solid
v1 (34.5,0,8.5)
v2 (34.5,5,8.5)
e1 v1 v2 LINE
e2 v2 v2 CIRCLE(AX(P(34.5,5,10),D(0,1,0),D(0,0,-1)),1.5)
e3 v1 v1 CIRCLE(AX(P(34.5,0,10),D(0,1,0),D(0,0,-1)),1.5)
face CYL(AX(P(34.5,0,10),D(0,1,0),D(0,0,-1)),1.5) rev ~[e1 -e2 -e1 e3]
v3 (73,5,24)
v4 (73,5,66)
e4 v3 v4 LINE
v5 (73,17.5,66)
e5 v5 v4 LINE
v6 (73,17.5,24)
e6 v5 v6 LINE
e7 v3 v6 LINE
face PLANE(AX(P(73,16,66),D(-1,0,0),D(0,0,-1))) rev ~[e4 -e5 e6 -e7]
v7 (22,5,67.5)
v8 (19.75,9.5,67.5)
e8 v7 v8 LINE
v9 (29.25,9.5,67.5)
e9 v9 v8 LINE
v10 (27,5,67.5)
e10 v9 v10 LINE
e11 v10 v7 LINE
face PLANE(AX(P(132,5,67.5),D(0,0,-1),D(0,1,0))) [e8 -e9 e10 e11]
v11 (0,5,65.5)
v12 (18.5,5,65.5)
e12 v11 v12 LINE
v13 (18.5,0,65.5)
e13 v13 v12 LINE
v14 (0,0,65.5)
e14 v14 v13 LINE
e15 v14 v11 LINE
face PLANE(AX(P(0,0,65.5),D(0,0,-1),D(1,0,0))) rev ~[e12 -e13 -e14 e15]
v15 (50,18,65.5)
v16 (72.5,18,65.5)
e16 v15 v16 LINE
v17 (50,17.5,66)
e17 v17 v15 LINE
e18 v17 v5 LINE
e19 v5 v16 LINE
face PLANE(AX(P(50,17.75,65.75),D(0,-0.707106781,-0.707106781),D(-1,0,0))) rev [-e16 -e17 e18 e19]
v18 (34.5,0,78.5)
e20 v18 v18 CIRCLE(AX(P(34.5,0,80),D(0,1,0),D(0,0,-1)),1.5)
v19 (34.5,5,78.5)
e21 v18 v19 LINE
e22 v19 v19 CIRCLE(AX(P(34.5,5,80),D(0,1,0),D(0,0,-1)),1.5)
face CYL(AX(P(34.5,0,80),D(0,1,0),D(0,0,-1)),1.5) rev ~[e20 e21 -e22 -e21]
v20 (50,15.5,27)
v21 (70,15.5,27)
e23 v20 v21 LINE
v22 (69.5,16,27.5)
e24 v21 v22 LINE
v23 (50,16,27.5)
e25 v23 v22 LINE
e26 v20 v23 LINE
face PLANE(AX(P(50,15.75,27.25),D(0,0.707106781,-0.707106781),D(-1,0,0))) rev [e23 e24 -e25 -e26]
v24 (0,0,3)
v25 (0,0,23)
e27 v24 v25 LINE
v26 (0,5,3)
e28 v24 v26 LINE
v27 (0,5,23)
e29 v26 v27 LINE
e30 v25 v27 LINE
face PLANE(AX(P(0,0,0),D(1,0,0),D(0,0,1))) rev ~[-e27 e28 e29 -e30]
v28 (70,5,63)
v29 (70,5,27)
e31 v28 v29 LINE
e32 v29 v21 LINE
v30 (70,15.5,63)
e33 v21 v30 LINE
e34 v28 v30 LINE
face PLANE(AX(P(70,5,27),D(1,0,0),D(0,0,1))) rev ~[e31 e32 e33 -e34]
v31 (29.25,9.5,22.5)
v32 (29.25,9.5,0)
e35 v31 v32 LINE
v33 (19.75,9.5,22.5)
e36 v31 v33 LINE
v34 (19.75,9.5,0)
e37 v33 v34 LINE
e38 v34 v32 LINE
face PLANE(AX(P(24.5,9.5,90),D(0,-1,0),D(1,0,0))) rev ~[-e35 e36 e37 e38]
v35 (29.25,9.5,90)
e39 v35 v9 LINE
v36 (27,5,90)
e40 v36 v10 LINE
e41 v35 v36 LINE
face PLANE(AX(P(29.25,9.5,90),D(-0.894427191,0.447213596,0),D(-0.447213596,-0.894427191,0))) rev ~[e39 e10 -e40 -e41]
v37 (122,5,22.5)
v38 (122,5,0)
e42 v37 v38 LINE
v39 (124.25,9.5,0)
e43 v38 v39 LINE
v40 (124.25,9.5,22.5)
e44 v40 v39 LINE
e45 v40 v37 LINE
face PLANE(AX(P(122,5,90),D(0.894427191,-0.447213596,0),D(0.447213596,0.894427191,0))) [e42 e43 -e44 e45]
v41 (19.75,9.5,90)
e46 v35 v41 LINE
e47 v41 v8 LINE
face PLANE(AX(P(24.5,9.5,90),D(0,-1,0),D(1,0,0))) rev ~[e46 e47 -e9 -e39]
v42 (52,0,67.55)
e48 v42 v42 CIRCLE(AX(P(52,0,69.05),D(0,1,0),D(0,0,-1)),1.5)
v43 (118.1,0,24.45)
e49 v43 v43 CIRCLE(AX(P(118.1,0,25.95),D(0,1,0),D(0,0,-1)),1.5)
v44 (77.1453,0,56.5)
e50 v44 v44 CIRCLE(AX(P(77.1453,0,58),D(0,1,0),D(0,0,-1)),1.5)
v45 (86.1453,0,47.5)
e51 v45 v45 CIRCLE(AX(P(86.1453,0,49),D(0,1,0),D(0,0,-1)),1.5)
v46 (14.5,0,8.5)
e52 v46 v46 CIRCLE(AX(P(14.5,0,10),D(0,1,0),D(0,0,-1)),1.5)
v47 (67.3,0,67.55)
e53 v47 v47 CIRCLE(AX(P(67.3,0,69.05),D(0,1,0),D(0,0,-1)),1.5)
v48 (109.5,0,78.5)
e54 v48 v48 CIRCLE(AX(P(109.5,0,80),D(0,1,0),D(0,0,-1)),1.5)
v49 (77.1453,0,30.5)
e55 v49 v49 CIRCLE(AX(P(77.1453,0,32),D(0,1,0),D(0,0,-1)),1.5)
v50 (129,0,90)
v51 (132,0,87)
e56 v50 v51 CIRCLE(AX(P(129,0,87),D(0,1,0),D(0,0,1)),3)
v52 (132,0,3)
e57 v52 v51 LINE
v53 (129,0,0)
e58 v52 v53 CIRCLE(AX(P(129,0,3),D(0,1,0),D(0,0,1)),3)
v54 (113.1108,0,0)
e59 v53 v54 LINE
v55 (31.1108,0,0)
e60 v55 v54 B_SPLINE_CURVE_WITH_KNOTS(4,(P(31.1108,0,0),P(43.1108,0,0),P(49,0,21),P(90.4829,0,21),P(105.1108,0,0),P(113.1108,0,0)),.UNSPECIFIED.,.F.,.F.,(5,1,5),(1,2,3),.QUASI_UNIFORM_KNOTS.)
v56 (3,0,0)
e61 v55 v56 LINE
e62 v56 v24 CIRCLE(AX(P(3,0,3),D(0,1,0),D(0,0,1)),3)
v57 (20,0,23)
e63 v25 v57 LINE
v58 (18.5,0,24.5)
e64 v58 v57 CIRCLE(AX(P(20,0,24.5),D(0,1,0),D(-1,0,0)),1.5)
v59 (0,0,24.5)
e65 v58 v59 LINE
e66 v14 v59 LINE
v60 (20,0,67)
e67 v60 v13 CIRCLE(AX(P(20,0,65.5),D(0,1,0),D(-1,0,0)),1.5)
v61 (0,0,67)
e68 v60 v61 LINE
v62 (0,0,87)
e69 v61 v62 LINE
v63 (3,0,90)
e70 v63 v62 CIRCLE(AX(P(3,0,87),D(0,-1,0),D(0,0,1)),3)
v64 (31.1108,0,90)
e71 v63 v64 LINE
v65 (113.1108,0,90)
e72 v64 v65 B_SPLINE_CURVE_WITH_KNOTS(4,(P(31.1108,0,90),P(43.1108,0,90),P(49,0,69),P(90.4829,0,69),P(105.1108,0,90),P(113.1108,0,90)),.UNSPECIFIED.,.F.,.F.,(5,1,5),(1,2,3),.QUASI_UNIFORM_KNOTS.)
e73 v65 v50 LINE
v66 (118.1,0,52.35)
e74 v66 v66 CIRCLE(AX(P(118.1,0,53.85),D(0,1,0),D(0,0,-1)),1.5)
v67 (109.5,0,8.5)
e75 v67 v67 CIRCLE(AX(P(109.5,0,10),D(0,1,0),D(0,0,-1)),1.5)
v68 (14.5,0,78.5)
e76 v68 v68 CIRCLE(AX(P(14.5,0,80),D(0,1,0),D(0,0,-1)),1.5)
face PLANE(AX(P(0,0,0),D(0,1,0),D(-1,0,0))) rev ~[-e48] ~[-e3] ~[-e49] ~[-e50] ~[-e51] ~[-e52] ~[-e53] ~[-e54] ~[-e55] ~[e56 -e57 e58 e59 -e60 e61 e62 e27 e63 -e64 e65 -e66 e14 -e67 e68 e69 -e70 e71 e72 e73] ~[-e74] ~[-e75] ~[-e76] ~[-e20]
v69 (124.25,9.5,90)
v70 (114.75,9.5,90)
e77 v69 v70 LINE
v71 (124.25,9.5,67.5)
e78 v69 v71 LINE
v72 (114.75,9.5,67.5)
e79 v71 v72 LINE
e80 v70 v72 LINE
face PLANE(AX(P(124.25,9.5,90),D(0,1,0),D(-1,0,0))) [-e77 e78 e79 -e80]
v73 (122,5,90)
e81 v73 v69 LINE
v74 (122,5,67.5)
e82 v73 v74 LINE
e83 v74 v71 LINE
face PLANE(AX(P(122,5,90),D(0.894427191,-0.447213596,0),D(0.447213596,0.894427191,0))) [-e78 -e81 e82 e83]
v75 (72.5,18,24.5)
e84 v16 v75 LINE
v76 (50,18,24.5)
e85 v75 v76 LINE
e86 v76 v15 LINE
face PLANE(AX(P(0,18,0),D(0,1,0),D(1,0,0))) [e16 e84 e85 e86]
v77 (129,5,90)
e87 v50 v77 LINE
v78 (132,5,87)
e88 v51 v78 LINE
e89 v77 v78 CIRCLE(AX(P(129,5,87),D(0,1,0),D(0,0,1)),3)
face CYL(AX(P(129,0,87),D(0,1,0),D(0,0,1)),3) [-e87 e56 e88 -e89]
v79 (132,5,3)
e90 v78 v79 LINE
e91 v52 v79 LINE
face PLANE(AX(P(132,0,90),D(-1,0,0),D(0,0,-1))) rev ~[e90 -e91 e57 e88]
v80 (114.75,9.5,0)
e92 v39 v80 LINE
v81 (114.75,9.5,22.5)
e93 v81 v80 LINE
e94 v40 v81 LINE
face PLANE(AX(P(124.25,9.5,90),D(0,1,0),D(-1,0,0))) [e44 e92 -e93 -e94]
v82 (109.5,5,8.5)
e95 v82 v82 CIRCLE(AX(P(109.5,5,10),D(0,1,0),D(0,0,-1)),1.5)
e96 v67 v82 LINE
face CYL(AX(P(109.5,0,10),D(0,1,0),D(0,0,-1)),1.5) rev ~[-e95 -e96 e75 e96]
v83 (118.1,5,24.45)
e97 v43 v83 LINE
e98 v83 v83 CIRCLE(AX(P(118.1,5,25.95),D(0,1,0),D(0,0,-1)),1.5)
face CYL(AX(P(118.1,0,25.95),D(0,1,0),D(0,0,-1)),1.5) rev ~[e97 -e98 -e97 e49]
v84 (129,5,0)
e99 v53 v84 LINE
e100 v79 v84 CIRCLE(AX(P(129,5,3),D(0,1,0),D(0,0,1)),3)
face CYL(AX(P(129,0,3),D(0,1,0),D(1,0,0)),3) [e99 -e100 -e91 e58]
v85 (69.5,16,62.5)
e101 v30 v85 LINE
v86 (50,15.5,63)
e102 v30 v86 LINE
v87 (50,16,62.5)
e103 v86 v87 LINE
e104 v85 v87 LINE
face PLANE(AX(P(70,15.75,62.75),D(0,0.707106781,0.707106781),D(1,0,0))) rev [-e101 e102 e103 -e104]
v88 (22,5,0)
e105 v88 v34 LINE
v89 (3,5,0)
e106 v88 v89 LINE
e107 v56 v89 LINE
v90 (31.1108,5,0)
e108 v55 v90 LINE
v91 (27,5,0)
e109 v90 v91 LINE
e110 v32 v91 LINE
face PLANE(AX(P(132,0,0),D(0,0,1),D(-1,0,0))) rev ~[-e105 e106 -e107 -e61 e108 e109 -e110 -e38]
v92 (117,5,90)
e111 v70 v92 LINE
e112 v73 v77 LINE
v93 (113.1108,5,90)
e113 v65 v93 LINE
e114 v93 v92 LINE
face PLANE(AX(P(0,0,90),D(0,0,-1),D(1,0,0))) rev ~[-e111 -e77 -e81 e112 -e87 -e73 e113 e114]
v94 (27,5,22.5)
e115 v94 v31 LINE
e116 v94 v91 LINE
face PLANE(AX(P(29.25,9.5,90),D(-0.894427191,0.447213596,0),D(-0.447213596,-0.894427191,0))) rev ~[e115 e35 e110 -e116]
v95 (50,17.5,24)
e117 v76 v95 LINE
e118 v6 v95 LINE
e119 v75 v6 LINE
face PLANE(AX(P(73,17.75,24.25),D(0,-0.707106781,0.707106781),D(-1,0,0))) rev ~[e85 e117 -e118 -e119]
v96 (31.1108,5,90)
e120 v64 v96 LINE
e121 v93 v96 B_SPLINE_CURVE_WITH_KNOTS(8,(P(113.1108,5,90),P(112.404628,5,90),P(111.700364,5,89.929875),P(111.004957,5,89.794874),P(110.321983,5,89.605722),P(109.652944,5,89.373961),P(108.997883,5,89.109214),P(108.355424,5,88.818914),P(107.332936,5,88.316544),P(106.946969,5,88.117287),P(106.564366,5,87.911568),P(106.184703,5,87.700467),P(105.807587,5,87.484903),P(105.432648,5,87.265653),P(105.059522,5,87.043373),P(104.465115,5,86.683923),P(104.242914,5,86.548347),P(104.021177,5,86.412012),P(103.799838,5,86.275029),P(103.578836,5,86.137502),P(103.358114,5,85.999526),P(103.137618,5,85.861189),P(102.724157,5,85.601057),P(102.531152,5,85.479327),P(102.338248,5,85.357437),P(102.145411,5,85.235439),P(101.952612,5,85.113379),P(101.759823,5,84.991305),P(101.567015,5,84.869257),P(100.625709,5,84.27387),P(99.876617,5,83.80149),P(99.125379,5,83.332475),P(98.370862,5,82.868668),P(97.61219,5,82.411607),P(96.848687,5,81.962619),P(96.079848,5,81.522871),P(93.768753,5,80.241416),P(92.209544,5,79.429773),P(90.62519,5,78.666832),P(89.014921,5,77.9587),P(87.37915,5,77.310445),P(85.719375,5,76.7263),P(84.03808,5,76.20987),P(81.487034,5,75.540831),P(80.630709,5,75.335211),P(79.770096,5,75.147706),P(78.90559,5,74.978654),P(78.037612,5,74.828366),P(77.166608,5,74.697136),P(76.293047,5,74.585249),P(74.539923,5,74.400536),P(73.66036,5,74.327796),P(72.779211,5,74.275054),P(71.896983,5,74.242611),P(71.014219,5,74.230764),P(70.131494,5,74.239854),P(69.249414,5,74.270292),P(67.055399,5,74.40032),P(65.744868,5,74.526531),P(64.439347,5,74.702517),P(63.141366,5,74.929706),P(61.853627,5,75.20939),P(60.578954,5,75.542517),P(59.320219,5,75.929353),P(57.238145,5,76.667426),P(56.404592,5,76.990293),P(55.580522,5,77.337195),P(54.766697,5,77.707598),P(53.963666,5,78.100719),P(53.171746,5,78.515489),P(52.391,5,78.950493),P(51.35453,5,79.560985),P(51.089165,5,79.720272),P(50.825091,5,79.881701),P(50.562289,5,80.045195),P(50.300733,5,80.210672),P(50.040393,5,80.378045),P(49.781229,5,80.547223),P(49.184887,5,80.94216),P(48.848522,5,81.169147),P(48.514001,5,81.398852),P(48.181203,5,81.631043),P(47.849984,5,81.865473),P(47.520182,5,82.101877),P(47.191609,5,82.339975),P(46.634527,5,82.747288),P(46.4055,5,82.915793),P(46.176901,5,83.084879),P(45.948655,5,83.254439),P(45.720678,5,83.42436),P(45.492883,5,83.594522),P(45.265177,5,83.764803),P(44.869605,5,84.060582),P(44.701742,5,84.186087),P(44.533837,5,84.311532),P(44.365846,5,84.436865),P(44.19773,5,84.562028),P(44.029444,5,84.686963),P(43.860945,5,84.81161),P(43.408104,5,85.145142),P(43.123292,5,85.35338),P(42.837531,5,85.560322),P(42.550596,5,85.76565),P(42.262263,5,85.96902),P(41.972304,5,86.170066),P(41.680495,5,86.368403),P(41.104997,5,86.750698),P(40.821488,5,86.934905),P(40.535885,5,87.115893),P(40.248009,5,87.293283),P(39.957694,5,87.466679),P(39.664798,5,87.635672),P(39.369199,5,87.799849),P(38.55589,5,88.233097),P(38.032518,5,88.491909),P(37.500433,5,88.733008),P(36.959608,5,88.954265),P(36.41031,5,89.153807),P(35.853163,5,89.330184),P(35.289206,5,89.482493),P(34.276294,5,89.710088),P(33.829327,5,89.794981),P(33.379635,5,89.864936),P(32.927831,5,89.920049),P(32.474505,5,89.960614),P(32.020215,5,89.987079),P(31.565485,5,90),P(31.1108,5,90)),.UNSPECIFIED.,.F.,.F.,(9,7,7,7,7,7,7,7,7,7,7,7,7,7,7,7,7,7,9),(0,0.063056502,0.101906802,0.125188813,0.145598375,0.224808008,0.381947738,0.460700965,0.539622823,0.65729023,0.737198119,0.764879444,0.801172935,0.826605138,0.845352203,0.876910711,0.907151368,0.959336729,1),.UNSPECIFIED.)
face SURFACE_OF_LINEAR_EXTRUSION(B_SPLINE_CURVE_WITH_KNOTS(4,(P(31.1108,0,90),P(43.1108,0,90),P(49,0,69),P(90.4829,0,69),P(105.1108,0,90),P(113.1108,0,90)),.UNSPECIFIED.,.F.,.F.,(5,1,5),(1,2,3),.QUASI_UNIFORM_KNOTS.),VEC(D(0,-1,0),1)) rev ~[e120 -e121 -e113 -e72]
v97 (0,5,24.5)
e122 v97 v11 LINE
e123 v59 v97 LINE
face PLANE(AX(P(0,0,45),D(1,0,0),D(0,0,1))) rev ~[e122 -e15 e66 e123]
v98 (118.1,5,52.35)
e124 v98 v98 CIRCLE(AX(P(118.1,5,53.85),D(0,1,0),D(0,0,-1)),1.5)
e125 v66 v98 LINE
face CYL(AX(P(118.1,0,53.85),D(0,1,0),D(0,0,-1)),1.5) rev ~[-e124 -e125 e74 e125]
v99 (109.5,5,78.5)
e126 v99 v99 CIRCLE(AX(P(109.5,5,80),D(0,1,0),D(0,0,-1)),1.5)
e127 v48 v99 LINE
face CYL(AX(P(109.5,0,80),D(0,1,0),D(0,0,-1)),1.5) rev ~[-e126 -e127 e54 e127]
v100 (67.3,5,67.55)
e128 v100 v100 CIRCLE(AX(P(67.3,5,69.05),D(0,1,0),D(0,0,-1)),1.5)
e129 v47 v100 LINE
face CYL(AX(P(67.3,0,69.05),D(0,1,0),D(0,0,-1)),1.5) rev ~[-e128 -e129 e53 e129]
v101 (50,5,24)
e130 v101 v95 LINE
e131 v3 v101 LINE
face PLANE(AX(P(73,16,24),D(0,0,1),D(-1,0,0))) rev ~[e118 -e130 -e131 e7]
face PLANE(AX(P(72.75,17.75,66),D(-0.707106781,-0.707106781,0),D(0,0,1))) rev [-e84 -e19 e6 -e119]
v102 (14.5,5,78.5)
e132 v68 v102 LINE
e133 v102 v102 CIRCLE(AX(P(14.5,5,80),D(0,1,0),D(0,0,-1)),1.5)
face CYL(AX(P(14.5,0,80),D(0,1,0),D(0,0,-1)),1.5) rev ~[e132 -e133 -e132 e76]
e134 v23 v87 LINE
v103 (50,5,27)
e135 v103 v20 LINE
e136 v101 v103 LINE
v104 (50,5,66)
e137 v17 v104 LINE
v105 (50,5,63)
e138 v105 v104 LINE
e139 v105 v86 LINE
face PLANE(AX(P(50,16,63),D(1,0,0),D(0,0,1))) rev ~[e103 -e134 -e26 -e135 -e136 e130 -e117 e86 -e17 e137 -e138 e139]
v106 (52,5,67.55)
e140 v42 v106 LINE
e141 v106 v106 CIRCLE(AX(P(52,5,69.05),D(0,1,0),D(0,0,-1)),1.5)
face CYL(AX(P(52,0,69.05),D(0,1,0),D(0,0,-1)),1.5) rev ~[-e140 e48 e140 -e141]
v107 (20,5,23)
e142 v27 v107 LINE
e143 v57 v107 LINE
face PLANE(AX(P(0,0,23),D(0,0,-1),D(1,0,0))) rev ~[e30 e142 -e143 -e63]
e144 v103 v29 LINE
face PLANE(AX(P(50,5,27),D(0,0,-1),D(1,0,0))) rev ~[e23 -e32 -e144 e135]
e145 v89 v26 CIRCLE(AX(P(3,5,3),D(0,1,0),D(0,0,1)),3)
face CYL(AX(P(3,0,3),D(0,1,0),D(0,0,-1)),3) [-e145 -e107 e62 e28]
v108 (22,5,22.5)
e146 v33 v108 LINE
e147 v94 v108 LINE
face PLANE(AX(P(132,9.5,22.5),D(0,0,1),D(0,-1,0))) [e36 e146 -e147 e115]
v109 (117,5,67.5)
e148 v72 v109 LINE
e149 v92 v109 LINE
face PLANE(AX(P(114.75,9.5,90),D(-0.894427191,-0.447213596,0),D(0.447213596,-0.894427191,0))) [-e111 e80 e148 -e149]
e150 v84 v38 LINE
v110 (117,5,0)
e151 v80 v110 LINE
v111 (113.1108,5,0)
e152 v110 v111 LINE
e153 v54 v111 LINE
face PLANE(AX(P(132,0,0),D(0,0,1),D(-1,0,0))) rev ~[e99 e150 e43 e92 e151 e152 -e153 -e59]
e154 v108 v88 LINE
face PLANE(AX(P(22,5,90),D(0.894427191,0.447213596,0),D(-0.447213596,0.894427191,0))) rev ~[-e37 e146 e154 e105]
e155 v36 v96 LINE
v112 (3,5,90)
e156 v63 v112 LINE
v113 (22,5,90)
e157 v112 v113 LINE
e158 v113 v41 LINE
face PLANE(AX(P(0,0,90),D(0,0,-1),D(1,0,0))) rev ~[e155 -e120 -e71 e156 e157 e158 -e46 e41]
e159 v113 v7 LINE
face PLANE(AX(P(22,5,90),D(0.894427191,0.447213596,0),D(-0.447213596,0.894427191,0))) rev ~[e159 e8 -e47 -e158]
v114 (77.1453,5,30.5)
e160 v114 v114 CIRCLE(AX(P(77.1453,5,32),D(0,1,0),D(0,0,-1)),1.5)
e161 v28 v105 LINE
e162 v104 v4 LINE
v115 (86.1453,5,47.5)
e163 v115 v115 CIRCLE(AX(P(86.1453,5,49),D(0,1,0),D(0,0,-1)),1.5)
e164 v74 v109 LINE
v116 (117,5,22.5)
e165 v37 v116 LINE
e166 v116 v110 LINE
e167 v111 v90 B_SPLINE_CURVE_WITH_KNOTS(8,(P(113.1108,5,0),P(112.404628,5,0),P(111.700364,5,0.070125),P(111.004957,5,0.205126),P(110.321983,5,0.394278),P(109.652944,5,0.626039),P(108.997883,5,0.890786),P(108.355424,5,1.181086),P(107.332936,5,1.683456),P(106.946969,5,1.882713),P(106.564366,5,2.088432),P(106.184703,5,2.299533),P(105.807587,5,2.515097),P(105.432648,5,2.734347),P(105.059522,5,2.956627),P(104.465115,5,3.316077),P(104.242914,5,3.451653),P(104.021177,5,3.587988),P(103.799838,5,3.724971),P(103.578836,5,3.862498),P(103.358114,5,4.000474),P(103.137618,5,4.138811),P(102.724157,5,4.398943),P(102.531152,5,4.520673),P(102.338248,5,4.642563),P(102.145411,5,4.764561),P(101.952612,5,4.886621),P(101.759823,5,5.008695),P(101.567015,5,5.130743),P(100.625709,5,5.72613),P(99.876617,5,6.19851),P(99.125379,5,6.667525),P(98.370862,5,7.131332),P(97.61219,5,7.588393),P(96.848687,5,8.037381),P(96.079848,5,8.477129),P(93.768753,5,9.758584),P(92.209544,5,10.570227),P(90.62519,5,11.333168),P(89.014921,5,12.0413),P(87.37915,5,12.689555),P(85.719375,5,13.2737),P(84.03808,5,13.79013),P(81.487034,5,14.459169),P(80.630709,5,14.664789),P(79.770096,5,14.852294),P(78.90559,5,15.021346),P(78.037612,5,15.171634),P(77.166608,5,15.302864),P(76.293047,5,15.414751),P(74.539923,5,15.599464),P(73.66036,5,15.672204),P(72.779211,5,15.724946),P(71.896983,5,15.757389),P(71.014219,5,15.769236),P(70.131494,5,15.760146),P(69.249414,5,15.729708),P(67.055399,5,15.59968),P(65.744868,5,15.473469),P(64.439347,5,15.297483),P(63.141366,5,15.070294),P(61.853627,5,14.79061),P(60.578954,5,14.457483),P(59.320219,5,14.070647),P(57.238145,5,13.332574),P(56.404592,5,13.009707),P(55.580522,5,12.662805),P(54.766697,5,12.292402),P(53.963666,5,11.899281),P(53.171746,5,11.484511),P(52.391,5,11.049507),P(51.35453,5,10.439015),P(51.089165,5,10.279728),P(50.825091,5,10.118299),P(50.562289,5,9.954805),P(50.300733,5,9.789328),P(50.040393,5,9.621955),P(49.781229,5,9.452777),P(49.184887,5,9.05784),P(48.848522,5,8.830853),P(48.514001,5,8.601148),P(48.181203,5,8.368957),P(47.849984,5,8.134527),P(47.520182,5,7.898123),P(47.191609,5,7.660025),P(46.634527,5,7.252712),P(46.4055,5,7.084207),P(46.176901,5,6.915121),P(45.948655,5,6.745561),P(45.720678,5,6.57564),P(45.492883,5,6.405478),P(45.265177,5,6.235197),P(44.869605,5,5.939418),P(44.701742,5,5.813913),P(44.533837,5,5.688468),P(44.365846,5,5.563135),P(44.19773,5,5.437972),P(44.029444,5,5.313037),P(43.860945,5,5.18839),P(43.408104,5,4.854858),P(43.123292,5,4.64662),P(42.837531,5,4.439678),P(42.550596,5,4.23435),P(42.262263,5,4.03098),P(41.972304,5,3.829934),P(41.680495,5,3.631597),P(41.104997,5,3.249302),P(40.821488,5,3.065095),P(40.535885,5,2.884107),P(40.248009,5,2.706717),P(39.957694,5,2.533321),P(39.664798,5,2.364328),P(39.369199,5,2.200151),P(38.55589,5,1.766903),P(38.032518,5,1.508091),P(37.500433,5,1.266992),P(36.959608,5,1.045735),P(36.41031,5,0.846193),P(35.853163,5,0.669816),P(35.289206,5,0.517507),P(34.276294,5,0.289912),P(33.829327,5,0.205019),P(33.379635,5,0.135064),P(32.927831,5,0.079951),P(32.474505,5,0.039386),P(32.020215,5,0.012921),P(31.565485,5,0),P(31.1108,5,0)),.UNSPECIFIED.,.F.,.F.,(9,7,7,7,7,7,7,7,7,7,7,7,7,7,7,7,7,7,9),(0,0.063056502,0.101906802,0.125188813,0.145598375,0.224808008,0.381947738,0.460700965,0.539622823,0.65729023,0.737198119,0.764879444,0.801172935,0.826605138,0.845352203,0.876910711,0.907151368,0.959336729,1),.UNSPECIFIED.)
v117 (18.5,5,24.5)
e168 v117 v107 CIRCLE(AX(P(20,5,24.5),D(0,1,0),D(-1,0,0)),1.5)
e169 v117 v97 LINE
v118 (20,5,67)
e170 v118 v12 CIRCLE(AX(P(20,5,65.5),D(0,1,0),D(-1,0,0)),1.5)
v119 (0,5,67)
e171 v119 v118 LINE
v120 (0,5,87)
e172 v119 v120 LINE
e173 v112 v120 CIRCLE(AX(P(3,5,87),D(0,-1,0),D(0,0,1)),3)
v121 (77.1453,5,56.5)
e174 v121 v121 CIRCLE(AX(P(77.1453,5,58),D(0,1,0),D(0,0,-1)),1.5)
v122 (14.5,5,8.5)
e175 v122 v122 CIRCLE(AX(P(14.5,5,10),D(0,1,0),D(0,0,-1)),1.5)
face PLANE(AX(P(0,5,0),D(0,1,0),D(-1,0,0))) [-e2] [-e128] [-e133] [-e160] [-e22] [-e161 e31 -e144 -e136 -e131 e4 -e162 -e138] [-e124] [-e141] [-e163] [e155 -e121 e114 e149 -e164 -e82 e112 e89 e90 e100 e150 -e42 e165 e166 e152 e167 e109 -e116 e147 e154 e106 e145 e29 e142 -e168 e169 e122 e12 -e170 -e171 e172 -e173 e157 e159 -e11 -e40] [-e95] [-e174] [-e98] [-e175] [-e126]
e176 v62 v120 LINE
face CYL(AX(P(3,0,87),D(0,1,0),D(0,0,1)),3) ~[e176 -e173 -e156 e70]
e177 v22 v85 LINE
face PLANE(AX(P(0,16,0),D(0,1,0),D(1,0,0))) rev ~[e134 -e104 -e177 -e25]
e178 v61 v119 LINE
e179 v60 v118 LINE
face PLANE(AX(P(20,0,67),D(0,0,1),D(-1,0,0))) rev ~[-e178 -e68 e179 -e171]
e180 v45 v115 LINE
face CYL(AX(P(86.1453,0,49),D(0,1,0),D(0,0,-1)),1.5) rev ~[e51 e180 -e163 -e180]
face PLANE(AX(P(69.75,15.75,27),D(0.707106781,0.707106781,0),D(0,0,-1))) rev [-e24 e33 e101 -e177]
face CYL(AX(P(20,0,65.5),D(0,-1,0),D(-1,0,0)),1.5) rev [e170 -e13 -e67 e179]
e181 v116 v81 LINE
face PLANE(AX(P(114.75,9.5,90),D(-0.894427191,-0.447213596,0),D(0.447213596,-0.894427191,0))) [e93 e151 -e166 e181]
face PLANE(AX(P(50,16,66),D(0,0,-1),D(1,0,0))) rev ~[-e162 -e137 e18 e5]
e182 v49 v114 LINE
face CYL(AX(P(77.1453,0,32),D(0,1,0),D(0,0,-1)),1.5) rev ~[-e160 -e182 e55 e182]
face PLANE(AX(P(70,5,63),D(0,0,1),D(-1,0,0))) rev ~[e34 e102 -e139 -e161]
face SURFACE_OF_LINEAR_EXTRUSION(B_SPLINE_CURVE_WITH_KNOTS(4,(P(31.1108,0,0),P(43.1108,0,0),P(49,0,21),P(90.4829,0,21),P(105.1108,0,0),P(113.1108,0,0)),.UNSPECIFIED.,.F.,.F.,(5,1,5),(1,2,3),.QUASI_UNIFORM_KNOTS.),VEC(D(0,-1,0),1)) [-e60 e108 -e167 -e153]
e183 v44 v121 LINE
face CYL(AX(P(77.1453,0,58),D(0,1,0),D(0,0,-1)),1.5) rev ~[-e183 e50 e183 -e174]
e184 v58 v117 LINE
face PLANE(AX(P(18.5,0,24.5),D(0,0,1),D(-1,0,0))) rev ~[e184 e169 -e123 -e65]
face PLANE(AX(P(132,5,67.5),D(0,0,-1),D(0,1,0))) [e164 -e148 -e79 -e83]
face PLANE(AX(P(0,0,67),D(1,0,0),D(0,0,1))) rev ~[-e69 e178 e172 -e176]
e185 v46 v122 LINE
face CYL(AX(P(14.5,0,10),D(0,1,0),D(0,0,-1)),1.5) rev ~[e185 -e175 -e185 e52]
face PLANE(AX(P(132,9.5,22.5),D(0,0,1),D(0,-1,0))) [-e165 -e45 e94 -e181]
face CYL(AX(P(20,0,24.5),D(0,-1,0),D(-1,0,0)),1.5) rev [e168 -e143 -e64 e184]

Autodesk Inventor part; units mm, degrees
ref_plane "YZ Plane" through (0, 0, 0) normal (1, 0, 0) x (0, 1, 0)
ref_plane "XZ Plane" through (0, 0, 0) normal (0, 1, 0) x (-1, 0, 0)
ref_plane "XY Plane" through (0, 0, 0) normal (0, 0, 1) x (1, 0, 0)
sketch "Sketch1" plane through (0, 0, 0) normal (0, 1, 0) x (-1, 0, 0)
  line L0 (0, 90) -> (-132, 90)
  line L1 (-132, 90) -> (-132, 0)
  line L2 (-132, 0) -> (0, 0)
  line L3 (0, 0) -> (0, 90)
  line L4 (0, 45) -> (-132, 45)
  line L5 (0, 65.5) -> (-20, 65.5)
  line L6 (-20, 65.5) -> (-20, 67)
  line L7 (-20, 67) -> (0, 67)
  line L8 (0, 67) -> (0, 65.5)
  line L9 (0, 23) -> (-20, 23)
  line L10 (-20, 23) -> (-20, 24.5)
  line L11 (-20, 24.5) -> (0, 24.5)
  line L12 (0, 24.5) -> (0, 23)
  circle A0 centre (-20, 65.5) radius 1.5
  circle A1 centre (-20, 24.5) radius 1.5
  dimension "d0" = 132
  dimension "d1" = 90
  dimension "d2" = 20
  dimension "d3" = 41
  dimension "d4" = 1.5
  dimension "d5" = 1.5
extrude "Extrusion1" add sketch "Sketch1" along normal blind 5 contours L3 L7 A0 L5 L4 L1 L0 | L4 L3 L11 A1 L9 L2 L1
sketch "Sketch2" plane through (0, 0, 90) normal (0, 0, 1) x (1, 0, 0)
  line L0 (0, 5) -> (132, 5) projected
  line L1 (22, 5) -> (19.75, 9.5)
  line L2 (19.75, 9.5) -> (29.25, 9.5)
  line L3 (29.25, 9.5) -> (27, 5)
  line L4 (24.5, 9.5) -> (24.5, 0)
  line L5 (132, 0) -> (0, 0) projected
  line L6 (72, 0) -> (72, 13)
  line L7 (132, 0) -> (132, 5) projected
  line L8 (122, 5) -> (124.25, 9.5)
  line L9 (124.25, 9.5) -> (114.75, 9.5)
  line L10 (114.75, 9.5) -> (117, 5)
  line L11 (117, 5) -> (122, 5)
  line L12 (132, 5) -> (0, 5) projected
  dimension "d8" = 9.5
  dimension "d10" = 22
  dimension "d11" = 5
  dimension "d15" = 4.5
  dimension "d90" = 60
extrude "Extrusion7" add sketch "Sketch2" against normal up to surface (90 mm away) contours L10 L9 L8 L0 | L0 L4 L2 L3 | L0 L1 L2 L4
sketch "Sketch3" plane through (132, 0, 90) normal (1, 0, 0) x (0, 0, -1)
  line L0 (0, 0) -> (90, 0) projected
  line L1 (0, 9.5) -> (90, 9.5) projected
  line L2 (90, 5) -> (0, 5) projected
  line L3 (22.5, 9.5) -> (67.5, 9.5)
  line L4 (67.5, 9.5) -> (67.5, 5)
  line L5 (67.5, 5) -> (22.5, 5)
  line L6 (22.5, 5) -> (22.5, 9.5)
  line L7 (0, 9.5) -> (0, 5) projected
  line L8 (90, 5) -> (90, 9.5) projected
  dimension "d93" = 45
  dimension "d94" = 22.5
  dimension "d95" = 22.5
extrude "Extrusion3" cut sketch "Sketch3" against normal blind 120 contours L1 L4 L2 L6
sketch "Sketch4" plane through (0, 5, 0) normal (0, 1, 0) x (1, 0, 0)
  line L0 (50, -27) -> (70, -27)
  line L1 (70, -27) -> (70, -63)
  line L2 (70, -63) -> (50, -63)
  line L3 (50, -63) -> (50, -66)
  line L4 (50, -66) -> (73, -66)
  line L5 (73, -66) -> (73, -24)
  line L6 (73, -24) -> (50, -24)
  line L7 (50, -24) -> (50, -27)
  line L8 (132, -90) -> (132, 0) projected
  line L9 (132, -45) -> (0, -45)
  line L10 (0, -24.5) -> (0, -65.5) projected
  point P0 (0, 0)
  dimension "d25" = 3
  dimension "d26" = 70
  dimension "d27" = 3
  dimension "d28" = 20
  dimension "d29" = 36
extrude "Extrusion4" add sketch "Sketch4" along normal blind 11
sketch "Sketch5" plane through (0, 16, 0) normal (0, 1, 0) x (1, 0, 0)
  line L0 (73, -24) -> (50, -24) projected
  line L1 (50, -63) -> (50, -66) projected
  line L2 (73, -24) -> (50, -24)
  line L3 (50, -24) -> (50, -66)
  line L4 (50, -66) -> (73, -66)
  line L5 (73, -66) -> (73, -24)
  point P0 (0, 0)
extrude "Extrusion5" add sketch "Sketch5" along normal blind 2
sketch "Sketch6" plane through (0, 0, 0) normal (0, -1, 0) x (1, 0, 0)
  line L0 (67.1453, 53) -> (87.1453, 53)
  line L1 (87.1453, 53) -> (87.1453, 37)
  line L2 (87.1453, 37) -> (67.1453, 37)
  line L3 (67.1453, 37) -> (67.1453, 53)
  line L4 (0, 90) -> (132, 90) projected
  line L5 (0, 24.5) -> (0, 65.5) projected
  line L6 (0, 45) -> (132, 45)
  line L7 (132, 90) -> (132, 0) projected
  line L8 (132, 0) -> (0, 0) projected
  line L9 (77.1453, 90) -> (77.1453, 0)
  line L10 (120, 85) -> (120, 62.5) projected
  line L11 (34, 85) -> (34, 62.5) projected
  line L12 (77.1453, 37) -> (77.1453, 32)
  line L13 (77.1453, 53) -> (77.1453, 58)
  line L14 (87.1453, 49) -> (86.1453, 49)
  dimension "d34" = 20
  dimension "d35" = 16
  dimension "d41" = 5
  dimension "d42" = 5
  dimension "d84" = 4
  dimension "d86" = 43.1454
  dimension "d88" = 43.1454
  dimension "d117" = 9
hole "Hole1" at (77.1453, 0, 32) at (86.1453, 0, 49) at (77.1453, 0, 58) direction (0, 1, 0) diameter 3 depth 8 tip angle 118
sketch "Sketch7" plane through (0, 0, 0) normal (0, -1, 0) x (1, 0, 0)
  line L0 (152, 71.65) -> (52, 71.65)
  line L1 (52, 71.65) -> (52, 18.35)
  line L2 (52, 18.35) -> (152, 18.35)
  line L3 (152, 18.35) -> (152, 71.65)
  line L4 (132, 90) -> (132, 0) projected
  line L5 (132, 45) -> (0, 45)
  line L6 (0, 24.5) -> (0, 65.5) projected
  line L7 (152, 25.95) -> (118.1, 25.95)
  line L8 (152, 53.85) -> (118.1, 53.85)
  line L9 (52, 69.05) -> (67.3, 69.05)
  line L10 (50, 66) -> (73, 66) projected
  point P0 (0, 0)
  dimension "d52" = 53.3
  dimension "d53" = 100
  dimension "d54" = 20
  dimension "d55" = 66.1
  dimension "d56" = 7.6
  dimension "d57" = 33.9
  dimension "d58" = 27.9
  dimension "d81" = 50.8
  dimension "d82" = 2.6
  dimension "d83" = 15.3
  dimension "d118" = 15.2
hole "Hole2" at (118.1, 0, 25.95) at (118.1, 0, 53.85) at (67.3, 0, 69.05) at (52, 0, 69.05) direction (0, 1, 0) diameter 3 depth 8 tip angle 118
chamfer "Chamfer1" distance 0.5 angle 45 6 edges at (61.5, 18, 24) (73, 18, 45) (61.5, 18, 66) (60, 16, 27) (70, 16, 45) (60, 16, 63)
fillet "Fillet1" radius 3 4 edges at (0, 2.5, 0) (0, 2.5, 90) (132, 2.5, 90) (132, 2.5, 0)
sketch "Sketch10" plane through (0, 0, 0) normal (0, -1, 0) x (1, 0, 0)
  line L0 (29.25, 90) -> (19.75, 90) projected
  line L1 (24.5, 0) -> (24.5, 90)
  line L2 (19.75, 90) -> (19.75, 67.5) projected
  line L3 (114.75, 90) -> (124.25, 90) projected
  line L4 (119.5, 90) -> (119.5, 0)
  line L5 (129, 0) -> (3, 0) projected
  line L6 (0, 80) -> (132, 80)
  line L7 (132, 87) -> (132, 3) projected
  line L8 (0, 10) -> (132, 10)
  line L9 (3, 90) -> (129, 90) projected
  line L10 (24.5, 80) -> (14.5, 80)
  line L11 (24.5, 80) -> (34.5, 80)
  line L12 (24.5, 10) -> (14.5, 10)
  line L13 (24.5, 10) -> (34.5, 10)
  line L14 (119.5, 10) -> (109.5, 10)
  line L15 (119.5, 80) -> (109.5, 80)
  point P0 (0, 0)
  dimension "d100" = 10
  dimension "d101" = 10
  dimension "d102" = 10
  dimension "d103" = 10
  dimension "d104" = 10
  dimension "d105" = 10
  dimension "d106" = 10
  dimension "d107" = 10
hole "Hole3" at (14.5, 0, 80) at (34.5, 0, 80) at (14.5, 0, 10) at (34.5, 0, 10) at (109.5, 0, 80) at (109.5, 0, 10) direction (0, 1, 0) diameter 3 depth 8 tip angle 118
sketch "Sketch11" plane through (0, 0, 0) normal (0, -1, 0) x (1, 0, 0)
  line L0 (129, 0) -> (3, 0) projected
  line L1 (31.1108, 0) -> (43.1108, 0) construction
  line L2 (43.1108, 0) -> (49, 21) construction
  line L3 (49, 21) -> (90.4829, 21) construction
  line L4 (90.4829, 21) -> (105.1108, 0) construction
  line L5 (105.1108, 0) -> (113.1108, 0) construction
  spline S0 degree 4 poles (31.1108, 0) (43.1108, 0) (49, 21) (90.4829, 21) (105.1108, 0) (113.1108, 0) knots 1 1 1 1 1 2 3 3 3 3 3
  line L6 (132, 87) -> (132, 3) projected
  line L7 (132, 45) -> (0, 45)
  line L8 (0, 24.5) -> (0, 65.5) projected
  line L9 (31.1108, 90) -> (43.1108, 90) construction
  line L10 (43.1108, 90) -> (49, 69) construction
  line L11 (49, 69) -> (90.4829, 69) construction
  line L12 (90.4829, 69) -> (105.1108, 90) construction
  line L13 (105.1108, 90) -> (113.1108, 90) construction
  spline S1 degree 4 poles (31.1108, 90) (43.1108, 90) (49, 69) (90.4829, 69) (105.1108, 90) (113.1108, 90) knots 1 1 1 1 1 2 3 3 3 3 3
  line L14 (3, 90) -> (129, 90) projected
  line L15 (27, 90) -> (117, 90) projected
  line L16 (31.1108, 90) -> (113.1108, 90)
  point P0 (0, 0)
extrude "Extrusion8" cut sketch "Sketch11" against normal blind 10
equation "\"d5\" = d4"
properties part number "one_part_body_V2"
